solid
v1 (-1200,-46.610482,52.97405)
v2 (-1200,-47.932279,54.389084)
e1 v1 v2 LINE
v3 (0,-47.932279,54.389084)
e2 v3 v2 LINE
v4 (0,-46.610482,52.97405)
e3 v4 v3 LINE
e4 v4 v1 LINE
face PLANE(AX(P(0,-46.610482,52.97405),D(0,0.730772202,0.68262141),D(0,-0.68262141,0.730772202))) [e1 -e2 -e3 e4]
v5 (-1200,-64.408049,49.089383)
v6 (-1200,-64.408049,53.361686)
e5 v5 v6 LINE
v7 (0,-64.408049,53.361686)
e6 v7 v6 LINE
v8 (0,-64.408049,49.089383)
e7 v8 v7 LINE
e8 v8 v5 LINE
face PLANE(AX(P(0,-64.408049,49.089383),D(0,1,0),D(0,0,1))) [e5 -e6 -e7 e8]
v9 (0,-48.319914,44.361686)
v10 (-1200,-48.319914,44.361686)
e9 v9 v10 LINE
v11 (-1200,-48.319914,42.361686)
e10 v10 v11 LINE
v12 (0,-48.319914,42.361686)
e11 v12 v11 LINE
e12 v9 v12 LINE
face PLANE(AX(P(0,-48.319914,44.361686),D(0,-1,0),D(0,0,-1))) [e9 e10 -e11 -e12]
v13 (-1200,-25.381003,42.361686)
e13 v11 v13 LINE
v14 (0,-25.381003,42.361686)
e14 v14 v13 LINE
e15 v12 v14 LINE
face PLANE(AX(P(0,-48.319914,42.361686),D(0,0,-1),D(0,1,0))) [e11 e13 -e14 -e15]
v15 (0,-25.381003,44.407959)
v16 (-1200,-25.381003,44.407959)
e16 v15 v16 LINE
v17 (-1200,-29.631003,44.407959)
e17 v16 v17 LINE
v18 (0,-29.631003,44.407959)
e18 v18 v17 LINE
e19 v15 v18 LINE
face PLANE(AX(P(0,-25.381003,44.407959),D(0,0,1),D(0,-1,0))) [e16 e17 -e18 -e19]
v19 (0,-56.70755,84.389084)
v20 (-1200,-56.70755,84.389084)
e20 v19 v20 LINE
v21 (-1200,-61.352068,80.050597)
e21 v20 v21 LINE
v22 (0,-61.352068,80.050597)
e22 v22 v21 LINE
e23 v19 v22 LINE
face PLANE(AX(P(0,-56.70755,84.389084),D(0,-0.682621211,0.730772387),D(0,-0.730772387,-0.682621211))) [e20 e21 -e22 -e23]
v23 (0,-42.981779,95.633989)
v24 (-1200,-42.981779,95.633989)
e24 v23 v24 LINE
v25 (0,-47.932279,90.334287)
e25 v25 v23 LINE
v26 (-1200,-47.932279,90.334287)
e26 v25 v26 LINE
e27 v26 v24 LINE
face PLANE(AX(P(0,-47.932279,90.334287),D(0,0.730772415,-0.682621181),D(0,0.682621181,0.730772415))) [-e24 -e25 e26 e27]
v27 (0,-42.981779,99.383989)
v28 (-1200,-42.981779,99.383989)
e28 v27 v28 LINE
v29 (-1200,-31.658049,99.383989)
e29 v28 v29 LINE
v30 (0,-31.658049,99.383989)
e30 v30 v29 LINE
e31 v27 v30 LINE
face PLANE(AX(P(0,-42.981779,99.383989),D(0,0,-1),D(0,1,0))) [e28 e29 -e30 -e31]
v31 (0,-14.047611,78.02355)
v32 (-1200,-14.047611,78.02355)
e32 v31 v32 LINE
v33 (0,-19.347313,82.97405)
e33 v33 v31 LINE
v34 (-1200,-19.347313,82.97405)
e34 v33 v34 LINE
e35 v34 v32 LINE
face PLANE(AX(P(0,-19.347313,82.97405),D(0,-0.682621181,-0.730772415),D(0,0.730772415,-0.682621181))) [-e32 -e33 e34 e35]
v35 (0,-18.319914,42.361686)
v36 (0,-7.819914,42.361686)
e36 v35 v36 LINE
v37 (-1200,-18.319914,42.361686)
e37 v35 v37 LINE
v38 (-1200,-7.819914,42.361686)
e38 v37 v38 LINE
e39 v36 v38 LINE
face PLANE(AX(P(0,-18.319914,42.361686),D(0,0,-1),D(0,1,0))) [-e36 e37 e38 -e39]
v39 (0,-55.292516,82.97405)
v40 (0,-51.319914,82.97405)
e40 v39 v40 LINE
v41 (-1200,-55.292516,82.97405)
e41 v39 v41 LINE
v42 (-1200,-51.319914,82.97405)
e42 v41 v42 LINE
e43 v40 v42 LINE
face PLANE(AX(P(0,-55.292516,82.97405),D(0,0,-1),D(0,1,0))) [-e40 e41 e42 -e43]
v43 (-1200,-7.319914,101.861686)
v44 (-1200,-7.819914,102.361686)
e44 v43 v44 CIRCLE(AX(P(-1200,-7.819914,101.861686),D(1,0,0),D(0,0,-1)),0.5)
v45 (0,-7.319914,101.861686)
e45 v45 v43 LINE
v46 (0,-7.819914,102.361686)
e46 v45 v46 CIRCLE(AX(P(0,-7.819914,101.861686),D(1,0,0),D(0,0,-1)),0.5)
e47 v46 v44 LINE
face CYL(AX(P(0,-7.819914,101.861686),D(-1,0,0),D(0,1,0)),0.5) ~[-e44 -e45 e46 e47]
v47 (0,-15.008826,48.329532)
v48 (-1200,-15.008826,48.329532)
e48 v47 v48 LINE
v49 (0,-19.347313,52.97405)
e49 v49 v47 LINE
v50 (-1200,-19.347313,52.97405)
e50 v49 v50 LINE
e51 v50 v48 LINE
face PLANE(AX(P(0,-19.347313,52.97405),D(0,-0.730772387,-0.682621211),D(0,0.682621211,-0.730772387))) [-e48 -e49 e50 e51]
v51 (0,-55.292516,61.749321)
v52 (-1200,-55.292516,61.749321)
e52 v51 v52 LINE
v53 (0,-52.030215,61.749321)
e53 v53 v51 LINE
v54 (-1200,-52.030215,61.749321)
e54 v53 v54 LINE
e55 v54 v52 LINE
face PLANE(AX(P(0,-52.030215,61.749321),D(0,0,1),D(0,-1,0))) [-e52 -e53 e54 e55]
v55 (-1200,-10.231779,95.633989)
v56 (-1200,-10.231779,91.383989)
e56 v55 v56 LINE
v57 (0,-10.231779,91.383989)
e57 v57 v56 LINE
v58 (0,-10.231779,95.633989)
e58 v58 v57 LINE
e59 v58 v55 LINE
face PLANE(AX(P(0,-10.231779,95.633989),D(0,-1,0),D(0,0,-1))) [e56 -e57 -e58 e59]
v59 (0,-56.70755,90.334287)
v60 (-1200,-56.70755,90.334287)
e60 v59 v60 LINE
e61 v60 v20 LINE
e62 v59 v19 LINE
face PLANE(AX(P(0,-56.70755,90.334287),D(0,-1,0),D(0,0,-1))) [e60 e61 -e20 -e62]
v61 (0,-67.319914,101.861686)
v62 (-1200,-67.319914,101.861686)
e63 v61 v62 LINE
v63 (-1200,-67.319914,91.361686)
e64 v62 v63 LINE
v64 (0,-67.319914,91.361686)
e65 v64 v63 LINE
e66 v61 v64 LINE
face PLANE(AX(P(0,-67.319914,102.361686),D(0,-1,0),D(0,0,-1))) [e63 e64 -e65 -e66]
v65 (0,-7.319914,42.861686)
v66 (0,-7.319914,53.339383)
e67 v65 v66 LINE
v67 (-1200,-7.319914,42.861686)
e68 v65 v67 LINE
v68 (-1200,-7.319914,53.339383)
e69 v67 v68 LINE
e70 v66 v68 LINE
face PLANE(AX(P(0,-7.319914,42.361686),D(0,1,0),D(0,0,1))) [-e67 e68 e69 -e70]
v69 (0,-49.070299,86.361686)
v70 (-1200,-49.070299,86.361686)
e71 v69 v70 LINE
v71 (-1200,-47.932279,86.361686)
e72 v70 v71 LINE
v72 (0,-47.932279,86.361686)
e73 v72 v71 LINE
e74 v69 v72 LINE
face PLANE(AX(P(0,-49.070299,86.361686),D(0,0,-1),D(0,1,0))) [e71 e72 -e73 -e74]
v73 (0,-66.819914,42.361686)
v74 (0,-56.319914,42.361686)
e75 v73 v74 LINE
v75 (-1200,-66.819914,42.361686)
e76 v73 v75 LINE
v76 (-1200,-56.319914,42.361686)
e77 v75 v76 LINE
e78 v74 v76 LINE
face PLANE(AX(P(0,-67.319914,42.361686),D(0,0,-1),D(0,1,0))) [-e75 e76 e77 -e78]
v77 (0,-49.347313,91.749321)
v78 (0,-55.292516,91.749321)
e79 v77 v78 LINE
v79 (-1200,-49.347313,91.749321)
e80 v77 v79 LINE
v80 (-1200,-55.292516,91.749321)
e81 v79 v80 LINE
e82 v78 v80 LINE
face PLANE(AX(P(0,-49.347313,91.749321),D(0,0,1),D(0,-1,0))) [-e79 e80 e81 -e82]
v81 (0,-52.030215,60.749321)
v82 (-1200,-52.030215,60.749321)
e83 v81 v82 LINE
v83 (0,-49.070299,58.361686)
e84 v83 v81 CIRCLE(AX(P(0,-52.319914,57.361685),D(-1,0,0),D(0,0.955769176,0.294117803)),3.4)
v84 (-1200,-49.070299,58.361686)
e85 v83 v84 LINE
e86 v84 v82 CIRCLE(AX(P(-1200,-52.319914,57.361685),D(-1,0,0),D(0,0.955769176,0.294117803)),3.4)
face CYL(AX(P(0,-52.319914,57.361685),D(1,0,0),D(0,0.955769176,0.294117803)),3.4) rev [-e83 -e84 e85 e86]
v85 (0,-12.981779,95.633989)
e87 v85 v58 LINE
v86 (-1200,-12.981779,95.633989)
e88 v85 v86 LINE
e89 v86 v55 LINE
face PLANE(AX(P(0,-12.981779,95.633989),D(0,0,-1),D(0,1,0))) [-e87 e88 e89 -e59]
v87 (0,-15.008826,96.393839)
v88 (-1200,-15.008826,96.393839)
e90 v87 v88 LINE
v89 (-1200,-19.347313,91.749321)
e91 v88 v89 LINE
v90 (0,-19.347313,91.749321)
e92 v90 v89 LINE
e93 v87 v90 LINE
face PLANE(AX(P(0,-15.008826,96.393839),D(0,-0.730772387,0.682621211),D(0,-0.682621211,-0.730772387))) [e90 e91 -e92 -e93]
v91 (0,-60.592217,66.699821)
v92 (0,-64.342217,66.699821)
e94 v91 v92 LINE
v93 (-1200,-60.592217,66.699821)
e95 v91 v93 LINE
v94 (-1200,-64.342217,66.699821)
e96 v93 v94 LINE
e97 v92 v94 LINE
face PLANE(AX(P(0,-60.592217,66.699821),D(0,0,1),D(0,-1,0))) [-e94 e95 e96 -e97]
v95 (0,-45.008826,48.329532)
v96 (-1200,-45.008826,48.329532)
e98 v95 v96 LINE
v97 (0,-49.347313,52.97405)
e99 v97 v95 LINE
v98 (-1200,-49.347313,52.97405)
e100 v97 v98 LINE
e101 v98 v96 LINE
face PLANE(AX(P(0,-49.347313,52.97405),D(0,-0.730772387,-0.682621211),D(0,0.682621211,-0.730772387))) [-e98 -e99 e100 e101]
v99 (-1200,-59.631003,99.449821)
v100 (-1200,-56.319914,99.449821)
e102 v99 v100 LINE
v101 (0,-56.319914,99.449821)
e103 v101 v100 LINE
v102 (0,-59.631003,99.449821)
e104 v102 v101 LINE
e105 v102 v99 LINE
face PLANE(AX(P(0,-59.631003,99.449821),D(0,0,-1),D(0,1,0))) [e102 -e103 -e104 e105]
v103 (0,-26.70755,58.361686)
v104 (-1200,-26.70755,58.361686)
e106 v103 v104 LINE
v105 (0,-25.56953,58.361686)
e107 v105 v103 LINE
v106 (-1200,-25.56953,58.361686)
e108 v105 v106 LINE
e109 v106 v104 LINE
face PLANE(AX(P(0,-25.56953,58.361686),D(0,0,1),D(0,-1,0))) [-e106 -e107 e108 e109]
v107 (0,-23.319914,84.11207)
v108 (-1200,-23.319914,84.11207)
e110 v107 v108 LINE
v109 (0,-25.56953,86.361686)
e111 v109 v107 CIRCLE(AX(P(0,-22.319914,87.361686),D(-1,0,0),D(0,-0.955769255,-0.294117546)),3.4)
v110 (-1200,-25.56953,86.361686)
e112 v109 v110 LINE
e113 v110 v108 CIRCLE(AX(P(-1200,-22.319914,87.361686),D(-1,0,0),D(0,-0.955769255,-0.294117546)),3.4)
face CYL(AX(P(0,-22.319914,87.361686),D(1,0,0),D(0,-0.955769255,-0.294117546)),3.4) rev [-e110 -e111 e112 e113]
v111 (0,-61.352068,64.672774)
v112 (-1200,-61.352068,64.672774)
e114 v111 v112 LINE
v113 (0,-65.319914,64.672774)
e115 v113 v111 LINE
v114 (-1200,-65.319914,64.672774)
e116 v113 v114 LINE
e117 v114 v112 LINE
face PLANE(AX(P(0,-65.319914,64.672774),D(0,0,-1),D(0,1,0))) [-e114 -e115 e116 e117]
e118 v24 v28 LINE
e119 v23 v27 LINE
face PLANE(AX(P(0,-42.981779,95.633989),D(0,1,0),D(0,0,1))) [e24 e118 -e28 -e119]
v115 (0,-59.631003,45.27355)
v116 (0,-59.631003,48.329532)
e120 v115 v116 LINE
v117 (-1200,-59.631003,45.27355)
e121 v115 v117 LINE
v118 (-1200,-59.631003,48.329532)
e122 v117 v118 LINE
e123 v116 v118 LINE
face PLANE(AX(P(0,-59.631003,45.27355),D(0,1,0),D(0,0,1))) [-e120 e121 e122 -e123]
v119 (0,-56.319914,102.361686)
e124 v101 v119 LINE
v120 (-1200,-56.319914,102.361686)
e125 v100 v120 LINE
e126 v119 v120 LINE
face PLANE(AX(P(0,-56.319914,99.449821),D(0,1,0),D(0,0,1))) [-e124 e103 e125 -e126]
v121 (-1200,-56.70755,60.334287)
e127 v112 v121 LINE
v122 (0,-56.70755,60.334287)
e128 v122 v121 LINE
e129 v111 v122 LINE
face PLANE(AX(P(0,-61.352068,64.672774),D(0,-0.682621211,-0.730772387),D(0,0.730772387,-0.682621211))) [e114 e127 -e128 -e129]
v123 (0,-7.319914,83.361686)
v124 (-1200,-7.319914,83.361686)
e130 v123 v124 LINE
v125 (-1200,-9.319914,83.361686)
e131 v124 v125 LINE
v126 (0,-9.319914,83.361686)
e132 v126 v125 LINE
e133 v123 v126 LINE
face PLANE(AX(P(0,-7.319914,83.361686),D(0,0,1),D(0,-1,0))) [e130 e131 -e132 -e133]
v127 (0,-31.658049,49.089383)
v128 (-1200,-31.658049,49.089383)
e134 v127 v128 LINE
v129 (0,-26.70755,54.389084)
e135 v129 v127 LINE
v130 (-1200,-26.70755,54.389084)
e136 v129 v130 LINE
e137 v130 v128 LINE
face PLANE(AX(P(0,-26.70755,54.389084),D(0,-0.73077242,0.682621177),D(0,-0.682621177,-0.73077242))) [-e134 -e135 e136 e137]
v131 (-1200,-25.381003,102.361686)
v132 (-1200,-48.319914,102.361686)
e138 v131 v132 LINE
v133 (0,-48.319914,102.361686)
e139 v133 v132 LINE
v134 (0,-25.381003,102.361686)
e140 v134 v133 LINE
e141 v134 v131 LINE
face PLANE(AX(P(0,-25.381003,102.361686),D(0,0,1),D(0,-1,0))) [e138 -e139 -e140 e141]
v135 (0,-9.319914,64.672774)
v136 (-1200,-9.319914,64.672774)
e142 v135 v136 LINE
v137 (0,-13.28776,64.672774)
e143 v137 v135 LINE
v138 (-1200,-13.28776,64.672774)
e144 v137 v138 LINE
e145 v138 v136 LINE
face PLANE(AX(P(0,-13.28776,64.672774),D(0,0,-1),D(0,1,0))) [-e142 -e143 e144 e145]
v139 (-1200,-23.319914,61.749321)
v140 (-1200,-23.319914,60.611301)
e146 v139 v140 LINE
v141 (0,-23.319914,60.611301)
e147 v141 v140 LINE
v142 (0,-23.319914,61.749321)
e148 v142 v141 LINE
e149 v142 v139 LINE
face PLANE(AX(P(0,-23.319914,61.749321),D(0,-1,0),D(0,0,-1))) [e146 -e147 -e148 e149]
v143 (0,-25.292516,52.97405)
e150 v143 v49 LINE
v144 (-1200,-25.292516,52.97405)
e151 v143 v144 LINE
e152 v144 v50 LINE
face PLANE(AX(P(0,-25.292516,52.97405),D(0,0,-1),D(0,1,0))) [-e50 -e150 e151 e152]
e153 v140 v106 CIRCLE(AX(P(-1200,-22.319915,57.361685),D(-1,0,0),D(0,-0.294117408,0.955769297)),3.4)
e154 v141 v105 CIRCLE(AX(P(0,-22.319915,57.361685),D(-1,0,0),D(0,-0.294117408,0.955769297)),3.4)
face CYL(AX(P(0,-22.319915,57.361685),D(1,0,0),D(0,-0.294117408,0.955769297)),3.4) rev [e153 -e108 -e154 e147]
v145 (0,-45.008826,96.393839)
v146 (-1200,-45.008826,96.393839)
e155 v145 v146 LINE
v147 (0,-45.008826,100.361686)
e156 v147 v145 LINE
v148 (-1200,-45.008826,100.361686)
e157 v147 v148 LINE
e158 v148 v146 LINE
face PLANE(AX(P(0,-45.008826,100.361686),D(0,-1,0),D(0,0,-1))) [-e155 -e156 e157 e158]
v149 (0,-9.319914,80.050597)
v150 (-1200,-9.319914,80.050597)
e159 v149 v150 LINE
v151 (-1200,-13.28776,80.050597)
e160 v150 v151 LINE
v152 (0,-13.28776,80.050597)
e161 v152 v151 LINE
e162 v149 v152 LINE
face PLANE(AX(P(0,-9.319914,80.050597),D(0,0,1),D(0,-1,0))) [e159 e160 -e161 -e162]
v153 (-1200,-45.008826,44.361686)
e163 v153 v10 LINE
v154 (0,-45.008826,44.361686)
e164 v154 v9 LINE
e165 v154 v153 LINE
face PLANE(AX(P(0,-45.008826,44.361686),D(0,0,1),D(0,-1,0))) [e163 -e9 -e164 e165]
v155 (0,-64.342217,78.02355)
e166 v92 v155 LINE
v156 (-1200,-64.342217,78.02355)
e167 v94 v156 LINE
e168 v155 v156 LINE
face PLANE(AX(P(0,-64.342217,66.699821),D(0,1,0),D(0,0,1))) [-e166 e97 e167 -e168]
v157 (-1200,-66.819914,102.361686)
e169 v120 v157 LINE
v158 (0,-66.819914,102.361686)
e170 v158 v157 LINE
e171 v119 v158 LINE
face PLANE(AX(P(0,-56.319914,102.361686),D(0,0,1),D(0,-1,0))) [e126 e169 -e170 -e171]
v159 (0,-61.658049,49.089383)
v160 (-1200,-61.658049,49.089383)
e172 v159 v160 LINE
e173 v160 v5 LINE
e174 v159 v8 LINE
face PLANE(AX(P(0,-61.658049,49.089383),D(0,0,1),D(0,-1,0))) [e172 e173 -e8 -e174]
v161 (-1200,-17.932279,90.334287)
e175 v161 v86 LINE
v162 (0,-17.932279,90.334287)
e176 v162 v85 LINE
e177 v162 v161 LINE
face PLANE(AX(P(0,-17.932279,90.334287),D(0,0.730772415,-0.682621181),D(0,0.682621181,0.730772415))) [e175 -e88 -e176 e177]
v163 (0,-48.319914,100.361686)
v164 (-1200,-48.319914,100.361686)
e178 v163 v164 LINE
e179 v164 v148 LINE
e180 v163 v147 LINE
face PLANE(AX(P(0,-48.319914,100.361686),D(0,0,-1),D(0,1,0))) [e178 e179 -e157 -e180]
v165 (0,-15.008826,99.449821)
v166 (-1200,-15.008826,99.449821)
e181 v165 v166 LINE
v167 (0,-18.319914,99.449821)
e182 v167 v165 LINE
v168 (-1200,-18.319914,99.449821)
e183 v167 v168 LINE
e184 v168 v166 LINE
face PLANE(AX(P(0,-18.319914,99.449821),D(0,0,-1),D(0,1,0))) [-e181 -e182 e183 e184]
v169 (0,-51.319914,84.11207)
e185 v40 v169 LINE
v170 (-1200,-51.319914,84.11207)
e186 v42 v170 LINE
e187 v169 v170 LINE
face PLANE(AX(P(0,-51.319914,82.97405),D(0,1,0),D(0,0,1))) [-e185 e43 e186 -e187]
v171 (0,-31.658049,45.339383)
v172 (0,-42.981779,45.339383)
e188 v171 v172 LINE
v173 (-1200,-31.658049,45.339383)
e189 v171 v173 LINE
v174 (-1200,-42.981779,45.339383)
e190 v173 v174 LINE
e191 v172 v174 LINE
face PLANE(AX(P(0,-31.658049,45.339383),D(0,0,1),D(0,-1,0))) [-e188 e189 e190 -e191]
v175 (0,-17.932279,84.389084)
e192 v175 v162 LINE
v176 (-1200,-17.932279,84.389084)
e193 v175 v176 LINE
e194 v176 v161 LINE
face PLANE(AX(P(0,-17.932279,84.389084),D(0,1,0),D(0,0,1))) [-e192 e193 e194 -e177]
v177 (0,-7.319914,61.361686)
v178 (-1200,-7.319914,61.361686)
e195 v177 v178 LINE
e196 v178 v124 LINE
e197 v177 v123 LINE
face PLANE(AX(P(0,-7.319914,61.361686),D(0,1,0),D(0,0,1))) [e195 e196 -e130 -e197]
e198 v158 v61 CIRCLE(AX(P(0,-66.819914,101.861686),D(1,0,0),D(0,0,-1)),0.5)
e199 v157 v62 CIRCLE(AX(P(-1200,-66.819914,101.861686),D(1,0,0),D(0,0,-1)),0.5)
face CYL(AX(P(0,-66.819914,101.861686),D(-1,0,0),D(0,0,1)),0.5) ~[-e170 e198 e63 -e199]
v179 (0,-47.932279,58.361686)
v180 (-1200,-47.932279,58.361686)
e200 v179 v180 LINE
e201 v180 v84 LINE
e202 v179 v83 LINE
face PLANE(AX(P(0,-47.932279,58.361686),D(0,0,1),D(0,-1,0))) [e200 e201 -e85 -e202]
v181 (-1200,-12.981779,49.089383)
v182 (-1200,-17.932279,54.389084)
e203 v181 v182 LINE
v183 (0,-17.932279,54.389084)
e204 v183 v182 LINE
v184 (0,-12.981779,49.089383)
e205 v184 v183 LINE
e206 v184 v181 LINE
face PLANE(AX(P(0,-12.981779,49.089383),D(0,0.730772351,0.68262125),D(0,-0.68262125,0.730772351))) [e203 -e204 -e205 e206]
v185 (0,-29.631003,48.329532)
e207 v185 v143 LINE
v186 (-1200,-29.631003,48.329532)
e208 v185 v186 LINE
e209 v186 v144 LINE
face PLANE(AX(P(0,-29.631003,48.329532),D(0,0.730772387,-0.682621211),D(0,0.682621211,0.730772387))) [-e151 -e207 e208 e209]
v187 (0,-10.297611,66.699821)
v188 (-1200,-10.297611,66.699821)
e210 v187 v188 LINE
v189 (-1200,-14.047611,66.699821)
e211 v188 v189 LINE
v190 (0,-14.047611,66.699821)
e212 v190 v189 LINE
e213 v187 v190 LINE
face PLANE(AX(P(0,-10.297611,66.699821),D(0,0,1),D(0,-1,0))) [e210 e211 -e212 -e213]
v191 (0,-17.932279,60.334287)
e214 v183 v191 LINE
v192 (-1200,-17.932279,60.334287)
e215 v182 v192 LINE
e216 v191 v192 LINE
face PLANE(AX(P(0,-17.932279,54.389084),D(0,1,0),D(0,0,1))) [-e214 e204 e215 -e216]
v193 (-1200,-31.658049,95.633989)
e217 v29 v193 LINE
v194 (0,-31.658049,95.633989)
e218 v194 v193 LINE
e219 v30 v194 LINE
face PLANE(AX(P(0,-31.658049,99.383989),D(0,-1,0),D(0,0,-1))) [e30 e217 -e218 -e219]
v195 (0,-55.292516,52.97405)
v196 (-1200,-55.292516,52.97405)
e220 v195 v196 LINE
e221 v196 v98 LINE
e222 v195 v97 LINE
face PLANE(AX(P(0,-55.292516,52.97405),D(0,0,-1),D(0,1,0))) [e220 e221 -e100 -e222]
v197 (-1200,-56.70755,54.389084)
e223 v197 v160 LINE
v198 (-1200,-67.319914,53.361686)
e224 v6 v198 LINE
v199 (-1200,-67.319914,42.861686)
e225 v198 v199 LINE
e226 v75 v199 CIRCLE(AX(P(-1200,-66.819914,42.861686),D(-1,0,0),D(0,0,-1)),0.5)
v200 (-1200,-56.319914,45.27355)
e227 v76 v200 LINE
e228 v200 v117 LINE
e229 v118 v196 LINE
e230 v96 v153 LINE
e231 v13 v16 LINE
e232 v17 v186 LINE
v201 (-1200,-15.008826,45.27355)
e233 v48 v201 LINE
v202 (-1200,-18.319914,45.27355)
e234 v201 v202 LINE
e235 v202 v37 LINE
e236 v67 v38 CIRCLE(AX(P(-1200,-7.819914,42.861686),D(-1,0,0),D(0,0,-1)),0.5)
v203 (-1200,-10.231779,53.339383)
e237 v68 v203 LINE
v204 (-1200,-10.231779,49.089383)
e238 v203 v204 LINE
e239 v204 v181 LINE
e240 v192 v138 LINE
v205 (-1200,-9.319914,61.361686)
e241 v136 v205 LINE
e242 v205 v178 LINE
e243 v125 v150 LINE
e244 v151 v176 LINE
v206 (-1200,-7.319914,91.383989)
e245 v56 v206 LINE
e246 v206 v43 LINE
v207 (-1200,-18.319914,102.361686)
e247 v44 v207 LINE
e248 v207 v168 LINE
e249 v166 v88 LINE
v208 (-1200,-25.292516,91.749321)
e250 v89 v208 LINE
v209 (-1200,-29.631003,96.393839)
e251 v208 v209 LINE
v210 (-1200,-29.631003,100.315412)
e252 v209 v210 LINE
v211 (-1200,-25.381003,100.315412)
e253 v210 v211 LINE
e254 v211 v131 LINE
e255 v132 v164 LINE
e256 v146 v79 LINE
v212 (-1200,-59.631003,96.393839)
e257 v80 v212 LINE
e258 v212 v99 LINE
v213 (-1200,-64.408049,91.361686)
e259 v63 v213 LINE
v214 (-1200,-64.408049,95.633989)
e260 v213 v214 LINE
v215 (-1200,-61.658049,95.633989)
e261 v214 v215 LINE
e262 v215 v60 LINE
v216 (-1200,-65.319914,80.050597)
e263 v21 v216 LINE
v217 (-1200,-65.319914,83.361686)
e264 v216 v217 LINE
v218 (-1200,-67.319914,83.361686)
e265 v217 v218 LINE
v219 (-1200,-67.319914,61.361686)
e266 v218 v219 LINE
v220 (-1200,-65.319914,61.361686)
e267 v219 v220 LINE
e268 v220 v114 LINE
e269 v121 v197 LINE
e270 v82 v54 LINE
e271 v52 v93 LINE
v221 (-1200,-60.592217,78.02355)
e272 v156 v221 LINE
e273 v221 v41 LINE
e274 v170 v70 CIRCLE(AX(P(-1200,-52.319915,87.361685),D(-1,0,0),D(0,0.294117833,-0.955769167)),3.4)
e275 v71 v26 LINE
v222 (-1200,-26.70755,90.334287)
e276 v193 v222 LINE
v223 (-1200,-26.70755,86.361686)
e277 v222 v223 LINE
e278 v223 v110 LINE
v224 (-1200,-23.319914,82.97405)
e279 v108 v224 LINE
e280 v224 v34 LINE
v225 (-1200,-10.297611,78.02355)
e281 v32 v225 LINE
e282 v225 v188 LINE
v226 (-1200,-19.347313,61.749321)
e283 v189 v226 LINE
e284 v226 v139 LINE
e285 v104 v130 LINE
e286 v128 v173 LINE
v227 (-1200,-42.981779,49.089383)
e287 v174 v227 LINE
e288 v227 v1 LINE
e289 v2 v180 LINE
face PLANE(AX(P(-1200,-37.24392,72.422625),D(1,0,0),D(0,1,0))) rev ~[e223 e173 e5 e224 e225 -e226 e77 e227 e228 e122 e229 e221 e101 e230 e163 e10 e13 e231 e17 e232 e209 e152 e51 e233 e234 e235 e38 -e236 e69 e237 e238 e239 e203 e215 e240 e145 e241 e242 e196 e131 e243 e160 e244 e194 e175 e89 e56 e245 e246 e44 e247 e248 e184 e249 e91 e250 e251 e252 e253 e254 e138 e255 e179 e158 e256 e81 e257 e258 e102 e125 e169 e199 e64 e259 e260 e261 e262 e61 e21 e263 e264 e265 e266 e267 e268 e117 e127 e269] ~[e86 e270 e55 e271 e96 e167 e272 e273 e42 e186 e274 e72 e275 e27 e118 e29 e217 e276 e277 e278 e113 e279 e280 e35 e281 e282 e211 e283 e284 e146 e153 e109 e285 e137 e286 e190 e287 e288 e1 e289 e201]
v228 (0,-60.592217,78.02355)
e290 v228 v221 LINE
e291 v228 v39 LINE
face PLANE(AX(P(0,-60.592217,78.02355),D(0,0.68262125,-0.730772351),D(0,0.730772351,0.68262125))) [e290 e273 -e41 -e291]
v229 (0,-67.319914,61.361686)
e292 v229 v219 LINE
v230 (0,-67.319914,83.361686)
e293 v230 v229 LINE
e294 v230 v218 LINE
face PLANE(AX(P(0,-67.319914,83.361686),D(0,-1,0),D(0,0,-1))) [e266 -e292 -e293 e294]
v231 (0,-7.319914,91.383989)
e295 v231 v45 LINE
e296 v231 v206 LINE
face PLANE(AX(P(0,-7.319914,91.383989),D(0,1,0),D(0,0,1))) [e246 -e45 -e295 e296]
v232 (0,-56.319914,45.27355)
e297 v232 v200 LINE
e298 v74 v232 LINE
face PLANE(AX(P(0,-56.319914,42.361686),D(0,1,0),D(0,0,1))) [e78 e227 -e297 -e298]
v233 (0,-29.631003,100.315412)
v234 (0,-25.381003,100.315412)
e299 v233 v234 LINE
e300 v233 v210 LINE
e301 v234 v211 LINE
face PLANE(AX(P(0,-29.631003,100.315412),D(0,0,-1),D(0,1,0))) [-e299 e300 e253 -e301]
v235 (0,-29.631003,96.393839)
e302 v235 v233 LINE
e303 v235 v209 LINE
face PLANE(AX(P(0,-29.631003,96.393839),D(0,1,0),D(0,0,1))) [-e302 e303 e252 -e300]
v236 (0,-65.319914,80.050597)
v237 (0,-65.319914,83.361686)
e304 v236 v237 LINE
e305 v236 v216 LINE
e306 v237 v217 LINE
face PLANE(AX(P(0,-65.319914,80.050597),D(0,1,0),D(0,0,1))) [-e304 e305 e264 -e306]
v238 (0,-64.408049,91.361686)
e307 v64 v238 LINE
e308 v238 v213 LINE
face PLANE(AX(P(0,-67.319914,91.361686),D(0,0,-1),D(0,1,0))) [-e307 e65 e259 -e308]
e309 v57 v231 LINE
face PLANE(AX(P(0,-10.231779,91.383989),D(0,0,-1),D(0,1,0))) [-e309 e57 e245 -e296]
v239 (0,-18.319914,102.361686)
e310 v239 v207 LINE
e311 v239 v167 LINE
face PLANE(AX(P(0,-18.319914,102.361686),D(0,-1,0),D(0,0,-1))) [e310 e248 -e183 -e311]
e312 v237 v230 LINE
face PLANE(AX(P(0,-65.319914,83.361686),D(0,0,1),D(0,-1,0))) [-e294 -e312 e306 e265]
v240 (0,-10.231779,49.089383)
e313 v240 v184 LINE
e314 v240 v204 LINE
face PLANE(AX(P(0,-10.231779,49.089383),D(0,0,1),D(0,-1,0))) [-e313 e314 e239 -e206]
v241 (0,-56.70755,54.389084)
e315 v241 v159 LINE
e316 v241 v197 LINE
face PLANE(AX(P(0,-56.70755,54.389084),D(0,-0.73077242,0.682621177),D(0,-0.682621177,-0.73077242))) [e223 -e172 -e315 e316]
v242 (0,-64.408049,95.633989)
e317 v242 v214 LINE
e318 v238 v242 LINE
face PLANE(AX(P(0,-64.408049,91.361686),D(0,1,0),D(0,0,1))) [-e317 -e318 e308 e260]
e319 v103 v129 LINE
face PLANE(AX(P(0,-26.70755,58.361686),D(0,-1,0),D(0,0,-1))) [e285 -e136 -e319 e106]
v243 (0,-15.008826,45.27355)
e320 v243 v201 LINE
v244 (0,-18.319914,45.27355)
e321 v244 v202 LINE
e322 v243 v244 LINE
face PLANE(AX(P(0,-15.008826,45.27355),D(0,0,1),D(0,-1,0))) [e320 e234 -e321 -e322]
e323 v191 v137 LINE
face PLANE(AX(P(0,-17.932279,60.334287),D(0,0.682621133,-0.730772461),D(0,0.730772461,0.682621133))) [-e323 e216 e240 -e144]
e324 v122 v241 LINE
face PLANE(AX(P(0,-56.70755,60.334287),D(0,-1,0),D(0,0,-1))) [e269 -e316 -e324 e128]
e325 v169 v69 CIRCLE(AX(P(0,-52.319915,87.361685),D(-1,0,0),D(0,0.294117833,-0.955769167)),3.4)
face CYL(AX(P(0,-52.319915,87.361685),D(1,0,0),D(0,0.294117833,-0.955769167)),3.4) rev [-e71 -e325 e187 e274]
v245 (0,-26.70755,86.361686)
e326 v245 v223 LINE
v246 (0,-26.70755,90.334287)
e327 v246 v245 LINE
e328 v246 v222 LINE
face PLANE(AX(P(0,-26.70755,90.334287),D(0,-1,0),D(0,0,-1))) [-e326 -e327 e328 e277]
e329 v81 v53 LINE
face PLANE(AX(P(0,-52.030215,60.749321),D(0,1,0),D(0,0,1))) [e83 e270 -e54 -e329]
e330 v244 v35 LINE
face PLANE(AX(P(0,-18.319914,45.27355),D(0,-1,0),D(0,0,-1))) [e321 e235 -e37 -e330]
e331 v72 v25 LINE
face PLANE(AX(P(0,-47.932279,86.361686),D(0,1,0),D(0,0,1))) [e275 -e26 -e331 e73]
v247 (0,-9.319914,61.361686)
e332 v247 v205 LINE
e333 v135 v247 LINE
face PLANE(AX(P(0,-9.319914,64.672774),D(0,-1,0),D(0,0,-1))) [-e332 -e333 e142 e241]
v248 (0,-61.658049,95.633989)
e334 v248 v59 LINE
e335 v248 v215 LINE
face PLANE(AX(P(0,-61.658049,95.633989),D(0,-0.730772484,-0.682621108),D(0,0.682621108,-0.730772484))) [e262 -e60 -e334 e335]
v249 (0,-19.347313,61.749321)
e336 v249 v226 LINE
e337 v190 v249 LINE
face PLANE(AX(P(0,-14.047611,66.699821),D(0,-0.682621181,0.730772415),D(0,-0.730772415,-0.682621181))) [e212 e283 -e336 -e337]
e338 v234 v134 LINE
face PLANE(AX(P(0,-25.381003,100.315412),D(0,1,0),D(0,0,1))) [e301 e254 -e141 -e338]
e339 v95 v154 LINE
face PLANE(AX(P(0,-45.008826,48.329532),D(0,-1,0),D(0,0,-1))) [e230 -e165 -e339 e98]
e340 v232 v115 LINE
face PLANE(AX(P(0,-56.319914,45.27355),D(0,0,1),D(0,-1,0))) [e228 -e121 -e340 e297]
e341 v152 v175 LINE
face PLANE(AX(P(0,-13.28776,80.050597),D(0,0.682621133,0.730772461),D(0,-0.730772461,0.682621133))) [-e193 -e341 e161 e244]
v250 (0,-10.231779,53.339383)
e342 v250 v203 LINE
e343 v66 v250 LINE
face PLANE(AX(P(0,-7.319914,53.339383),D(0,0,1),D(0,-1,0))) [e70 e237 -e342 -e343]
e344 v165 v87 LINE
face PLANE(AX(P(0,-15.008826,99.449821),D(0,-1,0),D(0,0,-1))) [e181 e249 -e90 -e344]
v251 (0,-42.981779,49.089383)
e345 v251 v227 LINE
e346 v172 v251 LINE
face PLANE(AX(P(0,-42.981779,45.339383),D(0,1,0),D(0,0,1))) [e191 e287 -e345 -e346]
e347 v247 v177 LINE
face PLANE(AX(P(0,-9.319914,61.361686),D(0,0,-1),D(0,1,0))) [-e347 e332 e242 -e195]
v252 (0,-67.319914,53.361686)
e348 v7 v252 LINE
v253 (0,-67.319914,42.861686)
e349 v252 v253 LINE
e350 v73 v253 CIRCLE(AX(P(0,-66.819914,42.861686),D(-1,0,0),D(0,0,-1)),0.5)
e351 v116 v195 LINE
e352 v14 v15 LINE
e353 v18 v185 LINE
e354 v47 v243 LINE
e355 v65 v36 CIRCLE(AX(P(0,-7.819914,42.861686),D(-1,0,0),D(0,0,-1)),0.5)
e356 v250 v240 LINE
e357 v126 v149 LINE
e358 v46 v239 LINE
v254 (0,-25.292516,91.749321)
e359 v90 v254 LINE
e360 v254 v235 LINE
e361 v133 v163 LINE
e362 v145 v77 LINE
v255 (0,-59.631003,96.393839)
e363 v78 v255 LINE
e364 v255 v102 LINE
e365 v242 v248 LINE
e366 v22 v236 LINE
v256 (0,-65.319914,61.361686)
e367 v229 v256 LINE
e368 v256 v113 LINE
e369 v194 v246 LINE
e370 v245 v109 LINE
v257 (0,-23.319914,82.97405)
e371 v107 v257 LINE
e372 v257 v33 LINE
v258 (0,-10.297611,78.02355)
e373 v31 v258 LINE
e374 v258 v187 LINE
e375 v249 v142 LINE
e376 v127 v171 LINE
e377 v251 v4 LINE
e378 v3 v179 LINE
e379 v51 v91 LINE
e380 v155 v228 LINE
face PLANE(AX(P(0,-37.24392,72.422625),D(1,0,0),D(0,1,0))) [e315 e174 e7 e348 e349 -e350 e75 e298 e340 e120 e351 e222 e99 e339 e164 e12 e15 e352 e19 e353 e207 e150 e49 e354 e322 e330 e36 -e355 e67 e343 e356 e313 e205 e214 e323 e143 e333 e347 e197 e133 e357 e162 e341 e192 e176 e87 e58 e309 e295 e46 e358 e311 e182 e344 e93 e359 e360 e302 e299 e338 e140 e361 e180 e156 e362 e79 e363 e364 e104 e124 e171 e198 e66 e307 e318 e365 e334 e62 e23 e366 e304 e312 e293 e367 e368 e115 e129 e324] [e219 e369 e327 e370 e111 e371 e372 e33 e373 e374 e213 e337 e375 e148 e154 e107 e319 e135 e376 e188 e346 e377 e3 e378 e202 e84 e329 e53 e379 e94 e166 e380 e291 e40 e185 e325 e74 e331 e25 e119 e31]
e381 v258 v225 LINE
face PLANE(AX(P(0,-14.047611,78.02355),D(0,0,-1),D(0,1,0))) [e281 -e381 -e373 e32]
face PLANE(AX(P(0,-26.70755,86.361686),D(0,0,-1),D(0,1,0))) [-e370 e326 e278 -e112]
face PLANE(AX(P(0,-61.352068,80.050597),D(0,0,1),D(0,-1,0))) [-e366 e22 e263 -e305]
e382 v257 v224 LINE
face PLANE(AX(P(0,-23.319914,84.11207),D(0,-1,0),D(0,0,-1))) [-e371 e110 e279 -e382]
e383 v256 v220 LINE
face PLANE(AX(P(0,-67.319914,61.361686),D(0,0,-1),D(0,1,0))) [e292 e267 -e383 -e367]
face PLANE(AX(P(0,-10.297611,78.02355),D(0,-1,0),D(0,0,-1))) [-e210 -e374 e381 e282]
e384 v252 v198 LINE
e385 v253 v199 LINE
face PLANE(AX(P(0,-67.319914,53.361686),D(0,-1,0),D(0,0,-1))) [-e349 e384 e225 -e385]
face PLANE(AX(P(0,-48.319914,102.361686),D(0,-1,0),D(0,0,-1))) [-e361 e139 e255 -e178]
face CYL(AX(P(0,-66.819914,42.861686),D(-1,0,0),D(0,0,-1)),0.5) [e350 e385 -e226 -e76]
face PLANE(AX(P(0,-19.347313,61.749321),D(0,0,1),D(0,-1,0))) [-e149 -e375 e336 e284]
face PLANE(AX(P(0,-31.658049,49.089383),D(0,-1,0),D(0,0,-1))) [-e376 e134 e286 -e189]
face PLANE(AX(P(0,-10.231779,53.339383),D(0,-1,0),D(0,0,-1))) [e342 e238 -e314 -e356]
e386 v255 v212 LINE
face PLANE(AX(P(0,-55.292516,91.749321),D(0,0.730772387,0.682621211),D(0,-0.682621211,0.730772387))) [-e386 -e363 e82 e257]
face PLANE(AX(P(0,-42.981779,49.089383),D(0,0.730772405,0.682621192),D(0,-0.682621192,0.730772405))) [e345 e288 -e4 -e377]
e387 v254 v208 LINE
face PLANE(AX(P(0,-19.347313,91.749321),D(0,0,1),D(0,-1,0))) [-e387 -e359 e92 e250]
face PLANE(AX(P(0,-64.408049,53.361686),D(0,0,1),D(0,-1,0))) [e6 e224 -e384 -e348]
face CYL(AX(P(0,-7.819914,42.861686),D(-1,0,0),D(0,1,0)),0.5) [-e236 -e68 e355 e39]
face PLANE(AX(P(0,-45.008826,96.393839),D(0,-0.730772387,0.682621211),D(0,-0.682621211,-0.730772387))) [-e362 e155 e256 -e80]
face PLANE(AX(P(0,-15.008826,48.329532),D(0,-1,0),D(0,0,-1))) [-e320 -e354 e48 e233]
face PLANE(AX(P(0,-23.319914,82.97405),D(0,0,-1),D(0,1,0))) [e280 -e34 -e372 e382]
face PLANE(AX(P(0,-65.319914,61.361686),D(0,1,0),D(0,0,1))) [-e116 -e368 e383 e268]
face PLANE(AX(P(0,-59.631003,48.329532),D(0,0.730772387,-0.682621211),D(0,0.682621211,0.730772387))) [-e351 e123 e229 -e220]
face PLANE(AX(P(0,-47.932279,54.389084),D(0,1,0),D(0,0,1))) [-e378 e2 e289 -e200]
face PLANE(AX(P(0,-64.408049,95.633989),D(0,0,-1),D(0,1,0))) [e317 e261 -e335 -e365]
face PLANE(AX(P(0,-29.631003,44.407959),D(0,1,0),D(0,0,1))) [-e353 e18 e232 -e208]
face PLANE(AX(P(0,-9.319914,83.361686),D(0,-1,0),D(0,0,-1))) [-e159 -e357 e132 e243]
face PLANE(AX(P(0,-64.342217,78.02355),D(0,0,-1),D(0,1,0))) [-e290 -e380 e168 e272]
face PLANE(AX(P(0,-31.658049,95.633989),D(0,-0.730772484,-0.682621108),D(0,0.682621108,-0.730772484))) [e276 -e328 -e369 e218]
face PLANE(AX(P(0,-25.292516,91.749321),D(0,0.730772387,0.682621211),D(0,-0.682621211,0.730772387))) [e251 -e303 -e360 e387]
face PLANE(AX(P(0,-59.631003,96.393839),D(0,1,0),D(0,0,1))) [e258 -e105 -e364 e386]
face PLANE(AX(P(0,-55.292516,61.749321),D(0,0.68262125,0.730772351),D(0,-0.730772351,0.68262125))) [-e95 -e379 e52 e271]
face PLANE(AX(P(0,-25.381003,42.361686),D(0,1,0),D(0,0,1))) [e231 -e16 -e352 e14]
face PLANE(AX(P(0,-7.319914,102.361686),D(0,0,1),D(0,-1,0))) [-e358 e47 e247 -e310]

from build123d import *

# Parameters (mm, degrees)
F1_DEPTH = 1200
F2_R     = 0.5


with BuildPart() as f1:
    # F0 (on Right) → F1 (new body)
    with BuildSketch(Plane.YZ):
        with BuildLine():
            Line((-47.932279, 54.389084), (-46.610482, 52.97405))
            Line((-46.610482, 52.97405), (-42.981779, 49.089383))
            Line((-42.981779, 49.089383), (-42.981779, 45.339383))
            Line((-42.981779, 45.339383), (-31.658049, 45.339383))
            Line((-31.658049, 45.339383), (-31.658049, 49.089383))
            Line((-31.658049, 49.089383), (-26.70755, 54.389084))
            Line((-26.70755, 54.389084), (-26.70755, 58.361686))
            Line((-26.70755, 58.361686), (-25.56953, 58.361686))
            ThreePointArc((-25.56953, 58.361686), (-19.915751, 54.957523), (-23.319914, 60.611301))
            Line((-23.319914, 60.611301), (-23.319914, 61.749321))
            Line((-23.319914, 61.749321), (-19.347313, 61.749321))
            Line((-19.347313, 61.749321), (-14.047611, 66.699821))
            Line((-14.047611, 66.699821), (-10.297611, 66.699821))
            Line((-10.297611, 66.699821), (-10.297611, 78.02355))
            Line((-10.297611, 78.02355), (-14.047611, 78.02355))
            Line((-14.047611, 78.02355), (-19.347313, 82.97405))
            Line((-19.347313, 82.97405), (-23.319914, 82.97405))
            Line((-23.319914, 82.97405), (-23.319914, 84.11207))
            ThreePointArc((-23.319914, 84.11207), (-19.915751, 89.765849), (-25.56953, 86.361686))
            Line((-25.56953, 86.361686), (-26.70755, 86.361686))
            Line((-26.70755, 86.361686), (-26.70755, 90.334287))
            Line((-26.70755, 90.334287), (-31.658049, 95.633989))
            Line((-31.658049, 95.633989), (-31.658049, 99.383989))
            Line((-31.658049, 99.383989), (-42.981779, 99.383989))
            Line((-42.981779, 99.383989), (-42.981779, 95.633989))
            Line((-42.981779, 95.633989), (-47.932279, 90.334287))
            Line((-47.932279, 90.334287), (-47.932279, 86.361686))
            Line((-47.932279, 86.361686), (-49.070299, 86.361686))
            ThreePointArc((-49.070299, 86.361686), (-54.724077, 89.765849), (-51.319914, 84.11207))
            Line((-51.319914, 84.11207), (-51.319914, 82.97405))
            Line((-51.319914, 82.97405), (-55.292516, 82.97405))
            Line((-55.292516, 82.97405), (-60.592217, 78.02355))
            Line((-60.592217, 78.02355), (-64.342217, 78.02355))
            Line((-64.342217, 78.02355), (-64.342217, 66.699821))
            Line((-64.342217, 66.699821), (-60.592217, 66.699821))
            Line((-60.592217, 66.699821), (-55.292516, 61.749321))
            Line((-55.292516, 61.749321), (-52.030215, 61.749321))
            Line((-52.030215, 61.749321), (-52.030215, 60.749321))
            ThreePointArc((-52.030215, 60.749321), (-54.454601, 54.715346), (-49.070299, 58.361686))
            Line((-49.070299, 58.361686), (-47.932279, 58.361686))
            Line((-47.932279, 58.361686), (-47.932279, 54.389084))
        make_face()
        Polygon((-7.319914, 91.383989), (-7.319914, 102.361686), (-18.319914, 102.361686), (-18.319914, 99.449821), (-15.008826, 99.449821), (-15.008826, 96.393839), (-19.347313, 91.749321), (-23.120943, 91.749321), (-25.292516, 91.749321), (-29.631003, 96.393839), (-29.631003, 99.315412), (-29.631003, 100.315412), (-25.381003, 100.315412), (-25.381003, 102.361686), (-48.319914, 102.361686), (-48.319914, 100.361686), (-45.008826, 100.361686), (-45.008826, 96.393839), (-49.347313, 91.749321), (-55.292516, 91.749321), (-59.631003, 96.393839), (-59.631003, 99.449821), (-56.319914, 99.449821), (-56.319914, 102.361686), (-67.319914, 102.361686), (-67.319914, 91.361686), (-64.408049, 91.361686), (-64.408049, 95.633989), (-61.658049, 95.633989), (-56.70755, 90.334287), (-56.70755, 84.389084), (-61.352068, 80.050597), (-65.319914, 80.050597), (-65.319914, 83.361686), (-67.319914, 83.361686), (-67.319914, 61.361686), (-65.319914, 61.361686), (-65.319914, 64.672774), (-61.352068, 64.672774), (-56.70755, 60.334287), (-56.70755, 54.389084), (-61.658049, 49.089383), (-64.408049, 49.089383), (-64.408049, 53.361686), (-67.319914, 53.361686), (-67.319914, 42.361686), (-56.319914, 42.361686), (-56.319914, 45.27355), (-59.631003, 45.27355), (-59.631003, 48.329532), (-55.292516, 52.97405), (-49.347313, 52.97405), (-45.008826, 48.329532), (-45.008826, 44.361686), (-48.319914, 44.361686), (-48.319914, 42.361686), (-25.381003, 42.361686), (-25.381003, 44.407959), (-29.631003, 44.407959), (-29.631003, 45.407959), (-29.631003, 48.329532), (-25.292516, 52.97405), (-23.120943, 52.97405), (-19.347313, 52.97405), (-15.008826, 48.329532), (-15.008826, 45.27355), (-18.319914, 45.27355), (-18.319914, 42.361686), (-7.319914, 42.361686), (-7.319914, 53.339383), (-10.231779, 53.339383), (-10.231779, 49.089383), (-12.981779, 49.089383), (-17.932279, 54.389084), (-17.932279, 60.334287), (-13.28776, 64.672774), (-9.319914, 64.672774), (-9.319914, 61.361686), (-7.319914, 61.361686), (-7.319914, 83.361686), (-9.319914, 83.361686), (-9.319914, 80.050597), (-13.28776, 80.050597), (-17.932279, 84.389084), (-17.932279, 90.334287), (-12.981779, 95.633989), (-10.231779, 95.633989), (-10.231779, 91.383989), align=None)
        with BuildLine():
            Line((-42.981779, 49.089383), (-46.610482, 52.97405))
            Line((-46.610482, 52.97405), (-47.932279, 54.389084))
            Line((-47.932279, 54.389084), (-47.932279, 58.361686))
            Line((-47.932279, 58.361686), (-49.070299, 58.361686))
            ThreePointArc((-49.070299, 58.361686), (-54.454601, 54.715346), (-52.030215, 60.749321))
            Line((-52.030215, 60.749321), (-52.030215, 61.749321))
            Line((-52.030215, 61.749321), (-55.292516, 61.749321))
            Line((-55.292516, 61.749321), (-60.592217, 66.699821))
            Line((-60.592217, 66.699821), (-64.342217, 66.699821))
            Line((-64.342217, 66.699821), (-64.342217, 78.02355))
            Line((-64.342217, 78.02355), (-60.592217, 78.02355))
            Line((-60.592217, 78.02355), (-55.292516, 82.97405))
            Line((-55.292516, 82.97405), (-51.319914, 82.97405))
            Line((-51.319914, 82.97405), (-51.319914, 84.11207))
            ThreePointArc((-51.319914, 84.11207), (-54.724077, 89.765849), (-49.070299, 86.361686))
            Line((-49.070299, 86.361686), (-47.932279, 86.361686))
            Line((-47.932279, 86.361686), (-47.932279, 90.334287))
            Line((-47.932279, 90.334287), (-42.981779, 95.633989))
            Line((-42.981779, 95.633989), (-42.981779, 99.383989))
            Line((-42.981779, 99.383989), (-31.658049, 99.383989))
            Line((-31.658049, 99.383989), (-31.658049, 95.633989))
            Line((-31.658049, 95.633989), (-26.70755, 90.334287))
            Line((-26.70755, 90.334287), (-26.70755, 86.361686))
            Line((-26.70755, 86.361686), (-25.56953, 86.361686))
            ThreePointArc((-25.56953, 86.361686), (-19.915751, 89.765849), (-23.319914, 84.11207))
            Line((-23.319914, 84.11207), (-23.319914, 82.97405))
            Line((-23.319914, 82.97405), (-19.347313, 82.97405))
            Line((-19.347313, 82.97405), (-14.047611, 78.02355))
            Line((-14.047611, 78.02355), (-10.297611, 78.02355))
            Line((-10.297611, 78.02355), (-10.297611, 66.699821))
            Line((-10.297611, 66.699821), (-14.047611, 66.699821))
            Line((-14.047611, 66.699821), (-19.347313, 61.749321))
            Line((-19.347313, 61.749321), (-23.319914, 61.749321))
            Line((-23.319914, 61.749321), (-23.319914, 60.611301))
            ThreePointArc((-23.319914, 60.611301), (-19.915751, 54.957523), (-25.56953, 58.361686))
            Line((-25.56953, 58.361686), (-26.70755, 58.361686))
            Line((-26.70755, 58.361686), (-26.70755, 54.389084))
            Line((-26.70755, 54.389084), (-31.658049, 49.089383))
            Line((-31.658049, 49.089383), (-31.658049, 45.339383))
            Line((-31.658049, 45.339383), (-42.981779, 45.339383))
            Line((-42.981779, 45.339383), (-42.981779, 49.089383))
        make_face(mode=Mode.SUBTRACT)
    extrude(amount=-F1_DEPTH)

    # F2
    f2_edges = [f1.edges().sort_by_distance(p)[0] for p in [
        (-600, -7.319914, 102.361686),
        (-600, -67.319914, 102.361686),
        (-600, -7.319914, 42.361686),
        (-600, -67.319914, 42.361686),
    ]]
    fillet(f2_edges, radius=F2_R)


solid = f1.part
